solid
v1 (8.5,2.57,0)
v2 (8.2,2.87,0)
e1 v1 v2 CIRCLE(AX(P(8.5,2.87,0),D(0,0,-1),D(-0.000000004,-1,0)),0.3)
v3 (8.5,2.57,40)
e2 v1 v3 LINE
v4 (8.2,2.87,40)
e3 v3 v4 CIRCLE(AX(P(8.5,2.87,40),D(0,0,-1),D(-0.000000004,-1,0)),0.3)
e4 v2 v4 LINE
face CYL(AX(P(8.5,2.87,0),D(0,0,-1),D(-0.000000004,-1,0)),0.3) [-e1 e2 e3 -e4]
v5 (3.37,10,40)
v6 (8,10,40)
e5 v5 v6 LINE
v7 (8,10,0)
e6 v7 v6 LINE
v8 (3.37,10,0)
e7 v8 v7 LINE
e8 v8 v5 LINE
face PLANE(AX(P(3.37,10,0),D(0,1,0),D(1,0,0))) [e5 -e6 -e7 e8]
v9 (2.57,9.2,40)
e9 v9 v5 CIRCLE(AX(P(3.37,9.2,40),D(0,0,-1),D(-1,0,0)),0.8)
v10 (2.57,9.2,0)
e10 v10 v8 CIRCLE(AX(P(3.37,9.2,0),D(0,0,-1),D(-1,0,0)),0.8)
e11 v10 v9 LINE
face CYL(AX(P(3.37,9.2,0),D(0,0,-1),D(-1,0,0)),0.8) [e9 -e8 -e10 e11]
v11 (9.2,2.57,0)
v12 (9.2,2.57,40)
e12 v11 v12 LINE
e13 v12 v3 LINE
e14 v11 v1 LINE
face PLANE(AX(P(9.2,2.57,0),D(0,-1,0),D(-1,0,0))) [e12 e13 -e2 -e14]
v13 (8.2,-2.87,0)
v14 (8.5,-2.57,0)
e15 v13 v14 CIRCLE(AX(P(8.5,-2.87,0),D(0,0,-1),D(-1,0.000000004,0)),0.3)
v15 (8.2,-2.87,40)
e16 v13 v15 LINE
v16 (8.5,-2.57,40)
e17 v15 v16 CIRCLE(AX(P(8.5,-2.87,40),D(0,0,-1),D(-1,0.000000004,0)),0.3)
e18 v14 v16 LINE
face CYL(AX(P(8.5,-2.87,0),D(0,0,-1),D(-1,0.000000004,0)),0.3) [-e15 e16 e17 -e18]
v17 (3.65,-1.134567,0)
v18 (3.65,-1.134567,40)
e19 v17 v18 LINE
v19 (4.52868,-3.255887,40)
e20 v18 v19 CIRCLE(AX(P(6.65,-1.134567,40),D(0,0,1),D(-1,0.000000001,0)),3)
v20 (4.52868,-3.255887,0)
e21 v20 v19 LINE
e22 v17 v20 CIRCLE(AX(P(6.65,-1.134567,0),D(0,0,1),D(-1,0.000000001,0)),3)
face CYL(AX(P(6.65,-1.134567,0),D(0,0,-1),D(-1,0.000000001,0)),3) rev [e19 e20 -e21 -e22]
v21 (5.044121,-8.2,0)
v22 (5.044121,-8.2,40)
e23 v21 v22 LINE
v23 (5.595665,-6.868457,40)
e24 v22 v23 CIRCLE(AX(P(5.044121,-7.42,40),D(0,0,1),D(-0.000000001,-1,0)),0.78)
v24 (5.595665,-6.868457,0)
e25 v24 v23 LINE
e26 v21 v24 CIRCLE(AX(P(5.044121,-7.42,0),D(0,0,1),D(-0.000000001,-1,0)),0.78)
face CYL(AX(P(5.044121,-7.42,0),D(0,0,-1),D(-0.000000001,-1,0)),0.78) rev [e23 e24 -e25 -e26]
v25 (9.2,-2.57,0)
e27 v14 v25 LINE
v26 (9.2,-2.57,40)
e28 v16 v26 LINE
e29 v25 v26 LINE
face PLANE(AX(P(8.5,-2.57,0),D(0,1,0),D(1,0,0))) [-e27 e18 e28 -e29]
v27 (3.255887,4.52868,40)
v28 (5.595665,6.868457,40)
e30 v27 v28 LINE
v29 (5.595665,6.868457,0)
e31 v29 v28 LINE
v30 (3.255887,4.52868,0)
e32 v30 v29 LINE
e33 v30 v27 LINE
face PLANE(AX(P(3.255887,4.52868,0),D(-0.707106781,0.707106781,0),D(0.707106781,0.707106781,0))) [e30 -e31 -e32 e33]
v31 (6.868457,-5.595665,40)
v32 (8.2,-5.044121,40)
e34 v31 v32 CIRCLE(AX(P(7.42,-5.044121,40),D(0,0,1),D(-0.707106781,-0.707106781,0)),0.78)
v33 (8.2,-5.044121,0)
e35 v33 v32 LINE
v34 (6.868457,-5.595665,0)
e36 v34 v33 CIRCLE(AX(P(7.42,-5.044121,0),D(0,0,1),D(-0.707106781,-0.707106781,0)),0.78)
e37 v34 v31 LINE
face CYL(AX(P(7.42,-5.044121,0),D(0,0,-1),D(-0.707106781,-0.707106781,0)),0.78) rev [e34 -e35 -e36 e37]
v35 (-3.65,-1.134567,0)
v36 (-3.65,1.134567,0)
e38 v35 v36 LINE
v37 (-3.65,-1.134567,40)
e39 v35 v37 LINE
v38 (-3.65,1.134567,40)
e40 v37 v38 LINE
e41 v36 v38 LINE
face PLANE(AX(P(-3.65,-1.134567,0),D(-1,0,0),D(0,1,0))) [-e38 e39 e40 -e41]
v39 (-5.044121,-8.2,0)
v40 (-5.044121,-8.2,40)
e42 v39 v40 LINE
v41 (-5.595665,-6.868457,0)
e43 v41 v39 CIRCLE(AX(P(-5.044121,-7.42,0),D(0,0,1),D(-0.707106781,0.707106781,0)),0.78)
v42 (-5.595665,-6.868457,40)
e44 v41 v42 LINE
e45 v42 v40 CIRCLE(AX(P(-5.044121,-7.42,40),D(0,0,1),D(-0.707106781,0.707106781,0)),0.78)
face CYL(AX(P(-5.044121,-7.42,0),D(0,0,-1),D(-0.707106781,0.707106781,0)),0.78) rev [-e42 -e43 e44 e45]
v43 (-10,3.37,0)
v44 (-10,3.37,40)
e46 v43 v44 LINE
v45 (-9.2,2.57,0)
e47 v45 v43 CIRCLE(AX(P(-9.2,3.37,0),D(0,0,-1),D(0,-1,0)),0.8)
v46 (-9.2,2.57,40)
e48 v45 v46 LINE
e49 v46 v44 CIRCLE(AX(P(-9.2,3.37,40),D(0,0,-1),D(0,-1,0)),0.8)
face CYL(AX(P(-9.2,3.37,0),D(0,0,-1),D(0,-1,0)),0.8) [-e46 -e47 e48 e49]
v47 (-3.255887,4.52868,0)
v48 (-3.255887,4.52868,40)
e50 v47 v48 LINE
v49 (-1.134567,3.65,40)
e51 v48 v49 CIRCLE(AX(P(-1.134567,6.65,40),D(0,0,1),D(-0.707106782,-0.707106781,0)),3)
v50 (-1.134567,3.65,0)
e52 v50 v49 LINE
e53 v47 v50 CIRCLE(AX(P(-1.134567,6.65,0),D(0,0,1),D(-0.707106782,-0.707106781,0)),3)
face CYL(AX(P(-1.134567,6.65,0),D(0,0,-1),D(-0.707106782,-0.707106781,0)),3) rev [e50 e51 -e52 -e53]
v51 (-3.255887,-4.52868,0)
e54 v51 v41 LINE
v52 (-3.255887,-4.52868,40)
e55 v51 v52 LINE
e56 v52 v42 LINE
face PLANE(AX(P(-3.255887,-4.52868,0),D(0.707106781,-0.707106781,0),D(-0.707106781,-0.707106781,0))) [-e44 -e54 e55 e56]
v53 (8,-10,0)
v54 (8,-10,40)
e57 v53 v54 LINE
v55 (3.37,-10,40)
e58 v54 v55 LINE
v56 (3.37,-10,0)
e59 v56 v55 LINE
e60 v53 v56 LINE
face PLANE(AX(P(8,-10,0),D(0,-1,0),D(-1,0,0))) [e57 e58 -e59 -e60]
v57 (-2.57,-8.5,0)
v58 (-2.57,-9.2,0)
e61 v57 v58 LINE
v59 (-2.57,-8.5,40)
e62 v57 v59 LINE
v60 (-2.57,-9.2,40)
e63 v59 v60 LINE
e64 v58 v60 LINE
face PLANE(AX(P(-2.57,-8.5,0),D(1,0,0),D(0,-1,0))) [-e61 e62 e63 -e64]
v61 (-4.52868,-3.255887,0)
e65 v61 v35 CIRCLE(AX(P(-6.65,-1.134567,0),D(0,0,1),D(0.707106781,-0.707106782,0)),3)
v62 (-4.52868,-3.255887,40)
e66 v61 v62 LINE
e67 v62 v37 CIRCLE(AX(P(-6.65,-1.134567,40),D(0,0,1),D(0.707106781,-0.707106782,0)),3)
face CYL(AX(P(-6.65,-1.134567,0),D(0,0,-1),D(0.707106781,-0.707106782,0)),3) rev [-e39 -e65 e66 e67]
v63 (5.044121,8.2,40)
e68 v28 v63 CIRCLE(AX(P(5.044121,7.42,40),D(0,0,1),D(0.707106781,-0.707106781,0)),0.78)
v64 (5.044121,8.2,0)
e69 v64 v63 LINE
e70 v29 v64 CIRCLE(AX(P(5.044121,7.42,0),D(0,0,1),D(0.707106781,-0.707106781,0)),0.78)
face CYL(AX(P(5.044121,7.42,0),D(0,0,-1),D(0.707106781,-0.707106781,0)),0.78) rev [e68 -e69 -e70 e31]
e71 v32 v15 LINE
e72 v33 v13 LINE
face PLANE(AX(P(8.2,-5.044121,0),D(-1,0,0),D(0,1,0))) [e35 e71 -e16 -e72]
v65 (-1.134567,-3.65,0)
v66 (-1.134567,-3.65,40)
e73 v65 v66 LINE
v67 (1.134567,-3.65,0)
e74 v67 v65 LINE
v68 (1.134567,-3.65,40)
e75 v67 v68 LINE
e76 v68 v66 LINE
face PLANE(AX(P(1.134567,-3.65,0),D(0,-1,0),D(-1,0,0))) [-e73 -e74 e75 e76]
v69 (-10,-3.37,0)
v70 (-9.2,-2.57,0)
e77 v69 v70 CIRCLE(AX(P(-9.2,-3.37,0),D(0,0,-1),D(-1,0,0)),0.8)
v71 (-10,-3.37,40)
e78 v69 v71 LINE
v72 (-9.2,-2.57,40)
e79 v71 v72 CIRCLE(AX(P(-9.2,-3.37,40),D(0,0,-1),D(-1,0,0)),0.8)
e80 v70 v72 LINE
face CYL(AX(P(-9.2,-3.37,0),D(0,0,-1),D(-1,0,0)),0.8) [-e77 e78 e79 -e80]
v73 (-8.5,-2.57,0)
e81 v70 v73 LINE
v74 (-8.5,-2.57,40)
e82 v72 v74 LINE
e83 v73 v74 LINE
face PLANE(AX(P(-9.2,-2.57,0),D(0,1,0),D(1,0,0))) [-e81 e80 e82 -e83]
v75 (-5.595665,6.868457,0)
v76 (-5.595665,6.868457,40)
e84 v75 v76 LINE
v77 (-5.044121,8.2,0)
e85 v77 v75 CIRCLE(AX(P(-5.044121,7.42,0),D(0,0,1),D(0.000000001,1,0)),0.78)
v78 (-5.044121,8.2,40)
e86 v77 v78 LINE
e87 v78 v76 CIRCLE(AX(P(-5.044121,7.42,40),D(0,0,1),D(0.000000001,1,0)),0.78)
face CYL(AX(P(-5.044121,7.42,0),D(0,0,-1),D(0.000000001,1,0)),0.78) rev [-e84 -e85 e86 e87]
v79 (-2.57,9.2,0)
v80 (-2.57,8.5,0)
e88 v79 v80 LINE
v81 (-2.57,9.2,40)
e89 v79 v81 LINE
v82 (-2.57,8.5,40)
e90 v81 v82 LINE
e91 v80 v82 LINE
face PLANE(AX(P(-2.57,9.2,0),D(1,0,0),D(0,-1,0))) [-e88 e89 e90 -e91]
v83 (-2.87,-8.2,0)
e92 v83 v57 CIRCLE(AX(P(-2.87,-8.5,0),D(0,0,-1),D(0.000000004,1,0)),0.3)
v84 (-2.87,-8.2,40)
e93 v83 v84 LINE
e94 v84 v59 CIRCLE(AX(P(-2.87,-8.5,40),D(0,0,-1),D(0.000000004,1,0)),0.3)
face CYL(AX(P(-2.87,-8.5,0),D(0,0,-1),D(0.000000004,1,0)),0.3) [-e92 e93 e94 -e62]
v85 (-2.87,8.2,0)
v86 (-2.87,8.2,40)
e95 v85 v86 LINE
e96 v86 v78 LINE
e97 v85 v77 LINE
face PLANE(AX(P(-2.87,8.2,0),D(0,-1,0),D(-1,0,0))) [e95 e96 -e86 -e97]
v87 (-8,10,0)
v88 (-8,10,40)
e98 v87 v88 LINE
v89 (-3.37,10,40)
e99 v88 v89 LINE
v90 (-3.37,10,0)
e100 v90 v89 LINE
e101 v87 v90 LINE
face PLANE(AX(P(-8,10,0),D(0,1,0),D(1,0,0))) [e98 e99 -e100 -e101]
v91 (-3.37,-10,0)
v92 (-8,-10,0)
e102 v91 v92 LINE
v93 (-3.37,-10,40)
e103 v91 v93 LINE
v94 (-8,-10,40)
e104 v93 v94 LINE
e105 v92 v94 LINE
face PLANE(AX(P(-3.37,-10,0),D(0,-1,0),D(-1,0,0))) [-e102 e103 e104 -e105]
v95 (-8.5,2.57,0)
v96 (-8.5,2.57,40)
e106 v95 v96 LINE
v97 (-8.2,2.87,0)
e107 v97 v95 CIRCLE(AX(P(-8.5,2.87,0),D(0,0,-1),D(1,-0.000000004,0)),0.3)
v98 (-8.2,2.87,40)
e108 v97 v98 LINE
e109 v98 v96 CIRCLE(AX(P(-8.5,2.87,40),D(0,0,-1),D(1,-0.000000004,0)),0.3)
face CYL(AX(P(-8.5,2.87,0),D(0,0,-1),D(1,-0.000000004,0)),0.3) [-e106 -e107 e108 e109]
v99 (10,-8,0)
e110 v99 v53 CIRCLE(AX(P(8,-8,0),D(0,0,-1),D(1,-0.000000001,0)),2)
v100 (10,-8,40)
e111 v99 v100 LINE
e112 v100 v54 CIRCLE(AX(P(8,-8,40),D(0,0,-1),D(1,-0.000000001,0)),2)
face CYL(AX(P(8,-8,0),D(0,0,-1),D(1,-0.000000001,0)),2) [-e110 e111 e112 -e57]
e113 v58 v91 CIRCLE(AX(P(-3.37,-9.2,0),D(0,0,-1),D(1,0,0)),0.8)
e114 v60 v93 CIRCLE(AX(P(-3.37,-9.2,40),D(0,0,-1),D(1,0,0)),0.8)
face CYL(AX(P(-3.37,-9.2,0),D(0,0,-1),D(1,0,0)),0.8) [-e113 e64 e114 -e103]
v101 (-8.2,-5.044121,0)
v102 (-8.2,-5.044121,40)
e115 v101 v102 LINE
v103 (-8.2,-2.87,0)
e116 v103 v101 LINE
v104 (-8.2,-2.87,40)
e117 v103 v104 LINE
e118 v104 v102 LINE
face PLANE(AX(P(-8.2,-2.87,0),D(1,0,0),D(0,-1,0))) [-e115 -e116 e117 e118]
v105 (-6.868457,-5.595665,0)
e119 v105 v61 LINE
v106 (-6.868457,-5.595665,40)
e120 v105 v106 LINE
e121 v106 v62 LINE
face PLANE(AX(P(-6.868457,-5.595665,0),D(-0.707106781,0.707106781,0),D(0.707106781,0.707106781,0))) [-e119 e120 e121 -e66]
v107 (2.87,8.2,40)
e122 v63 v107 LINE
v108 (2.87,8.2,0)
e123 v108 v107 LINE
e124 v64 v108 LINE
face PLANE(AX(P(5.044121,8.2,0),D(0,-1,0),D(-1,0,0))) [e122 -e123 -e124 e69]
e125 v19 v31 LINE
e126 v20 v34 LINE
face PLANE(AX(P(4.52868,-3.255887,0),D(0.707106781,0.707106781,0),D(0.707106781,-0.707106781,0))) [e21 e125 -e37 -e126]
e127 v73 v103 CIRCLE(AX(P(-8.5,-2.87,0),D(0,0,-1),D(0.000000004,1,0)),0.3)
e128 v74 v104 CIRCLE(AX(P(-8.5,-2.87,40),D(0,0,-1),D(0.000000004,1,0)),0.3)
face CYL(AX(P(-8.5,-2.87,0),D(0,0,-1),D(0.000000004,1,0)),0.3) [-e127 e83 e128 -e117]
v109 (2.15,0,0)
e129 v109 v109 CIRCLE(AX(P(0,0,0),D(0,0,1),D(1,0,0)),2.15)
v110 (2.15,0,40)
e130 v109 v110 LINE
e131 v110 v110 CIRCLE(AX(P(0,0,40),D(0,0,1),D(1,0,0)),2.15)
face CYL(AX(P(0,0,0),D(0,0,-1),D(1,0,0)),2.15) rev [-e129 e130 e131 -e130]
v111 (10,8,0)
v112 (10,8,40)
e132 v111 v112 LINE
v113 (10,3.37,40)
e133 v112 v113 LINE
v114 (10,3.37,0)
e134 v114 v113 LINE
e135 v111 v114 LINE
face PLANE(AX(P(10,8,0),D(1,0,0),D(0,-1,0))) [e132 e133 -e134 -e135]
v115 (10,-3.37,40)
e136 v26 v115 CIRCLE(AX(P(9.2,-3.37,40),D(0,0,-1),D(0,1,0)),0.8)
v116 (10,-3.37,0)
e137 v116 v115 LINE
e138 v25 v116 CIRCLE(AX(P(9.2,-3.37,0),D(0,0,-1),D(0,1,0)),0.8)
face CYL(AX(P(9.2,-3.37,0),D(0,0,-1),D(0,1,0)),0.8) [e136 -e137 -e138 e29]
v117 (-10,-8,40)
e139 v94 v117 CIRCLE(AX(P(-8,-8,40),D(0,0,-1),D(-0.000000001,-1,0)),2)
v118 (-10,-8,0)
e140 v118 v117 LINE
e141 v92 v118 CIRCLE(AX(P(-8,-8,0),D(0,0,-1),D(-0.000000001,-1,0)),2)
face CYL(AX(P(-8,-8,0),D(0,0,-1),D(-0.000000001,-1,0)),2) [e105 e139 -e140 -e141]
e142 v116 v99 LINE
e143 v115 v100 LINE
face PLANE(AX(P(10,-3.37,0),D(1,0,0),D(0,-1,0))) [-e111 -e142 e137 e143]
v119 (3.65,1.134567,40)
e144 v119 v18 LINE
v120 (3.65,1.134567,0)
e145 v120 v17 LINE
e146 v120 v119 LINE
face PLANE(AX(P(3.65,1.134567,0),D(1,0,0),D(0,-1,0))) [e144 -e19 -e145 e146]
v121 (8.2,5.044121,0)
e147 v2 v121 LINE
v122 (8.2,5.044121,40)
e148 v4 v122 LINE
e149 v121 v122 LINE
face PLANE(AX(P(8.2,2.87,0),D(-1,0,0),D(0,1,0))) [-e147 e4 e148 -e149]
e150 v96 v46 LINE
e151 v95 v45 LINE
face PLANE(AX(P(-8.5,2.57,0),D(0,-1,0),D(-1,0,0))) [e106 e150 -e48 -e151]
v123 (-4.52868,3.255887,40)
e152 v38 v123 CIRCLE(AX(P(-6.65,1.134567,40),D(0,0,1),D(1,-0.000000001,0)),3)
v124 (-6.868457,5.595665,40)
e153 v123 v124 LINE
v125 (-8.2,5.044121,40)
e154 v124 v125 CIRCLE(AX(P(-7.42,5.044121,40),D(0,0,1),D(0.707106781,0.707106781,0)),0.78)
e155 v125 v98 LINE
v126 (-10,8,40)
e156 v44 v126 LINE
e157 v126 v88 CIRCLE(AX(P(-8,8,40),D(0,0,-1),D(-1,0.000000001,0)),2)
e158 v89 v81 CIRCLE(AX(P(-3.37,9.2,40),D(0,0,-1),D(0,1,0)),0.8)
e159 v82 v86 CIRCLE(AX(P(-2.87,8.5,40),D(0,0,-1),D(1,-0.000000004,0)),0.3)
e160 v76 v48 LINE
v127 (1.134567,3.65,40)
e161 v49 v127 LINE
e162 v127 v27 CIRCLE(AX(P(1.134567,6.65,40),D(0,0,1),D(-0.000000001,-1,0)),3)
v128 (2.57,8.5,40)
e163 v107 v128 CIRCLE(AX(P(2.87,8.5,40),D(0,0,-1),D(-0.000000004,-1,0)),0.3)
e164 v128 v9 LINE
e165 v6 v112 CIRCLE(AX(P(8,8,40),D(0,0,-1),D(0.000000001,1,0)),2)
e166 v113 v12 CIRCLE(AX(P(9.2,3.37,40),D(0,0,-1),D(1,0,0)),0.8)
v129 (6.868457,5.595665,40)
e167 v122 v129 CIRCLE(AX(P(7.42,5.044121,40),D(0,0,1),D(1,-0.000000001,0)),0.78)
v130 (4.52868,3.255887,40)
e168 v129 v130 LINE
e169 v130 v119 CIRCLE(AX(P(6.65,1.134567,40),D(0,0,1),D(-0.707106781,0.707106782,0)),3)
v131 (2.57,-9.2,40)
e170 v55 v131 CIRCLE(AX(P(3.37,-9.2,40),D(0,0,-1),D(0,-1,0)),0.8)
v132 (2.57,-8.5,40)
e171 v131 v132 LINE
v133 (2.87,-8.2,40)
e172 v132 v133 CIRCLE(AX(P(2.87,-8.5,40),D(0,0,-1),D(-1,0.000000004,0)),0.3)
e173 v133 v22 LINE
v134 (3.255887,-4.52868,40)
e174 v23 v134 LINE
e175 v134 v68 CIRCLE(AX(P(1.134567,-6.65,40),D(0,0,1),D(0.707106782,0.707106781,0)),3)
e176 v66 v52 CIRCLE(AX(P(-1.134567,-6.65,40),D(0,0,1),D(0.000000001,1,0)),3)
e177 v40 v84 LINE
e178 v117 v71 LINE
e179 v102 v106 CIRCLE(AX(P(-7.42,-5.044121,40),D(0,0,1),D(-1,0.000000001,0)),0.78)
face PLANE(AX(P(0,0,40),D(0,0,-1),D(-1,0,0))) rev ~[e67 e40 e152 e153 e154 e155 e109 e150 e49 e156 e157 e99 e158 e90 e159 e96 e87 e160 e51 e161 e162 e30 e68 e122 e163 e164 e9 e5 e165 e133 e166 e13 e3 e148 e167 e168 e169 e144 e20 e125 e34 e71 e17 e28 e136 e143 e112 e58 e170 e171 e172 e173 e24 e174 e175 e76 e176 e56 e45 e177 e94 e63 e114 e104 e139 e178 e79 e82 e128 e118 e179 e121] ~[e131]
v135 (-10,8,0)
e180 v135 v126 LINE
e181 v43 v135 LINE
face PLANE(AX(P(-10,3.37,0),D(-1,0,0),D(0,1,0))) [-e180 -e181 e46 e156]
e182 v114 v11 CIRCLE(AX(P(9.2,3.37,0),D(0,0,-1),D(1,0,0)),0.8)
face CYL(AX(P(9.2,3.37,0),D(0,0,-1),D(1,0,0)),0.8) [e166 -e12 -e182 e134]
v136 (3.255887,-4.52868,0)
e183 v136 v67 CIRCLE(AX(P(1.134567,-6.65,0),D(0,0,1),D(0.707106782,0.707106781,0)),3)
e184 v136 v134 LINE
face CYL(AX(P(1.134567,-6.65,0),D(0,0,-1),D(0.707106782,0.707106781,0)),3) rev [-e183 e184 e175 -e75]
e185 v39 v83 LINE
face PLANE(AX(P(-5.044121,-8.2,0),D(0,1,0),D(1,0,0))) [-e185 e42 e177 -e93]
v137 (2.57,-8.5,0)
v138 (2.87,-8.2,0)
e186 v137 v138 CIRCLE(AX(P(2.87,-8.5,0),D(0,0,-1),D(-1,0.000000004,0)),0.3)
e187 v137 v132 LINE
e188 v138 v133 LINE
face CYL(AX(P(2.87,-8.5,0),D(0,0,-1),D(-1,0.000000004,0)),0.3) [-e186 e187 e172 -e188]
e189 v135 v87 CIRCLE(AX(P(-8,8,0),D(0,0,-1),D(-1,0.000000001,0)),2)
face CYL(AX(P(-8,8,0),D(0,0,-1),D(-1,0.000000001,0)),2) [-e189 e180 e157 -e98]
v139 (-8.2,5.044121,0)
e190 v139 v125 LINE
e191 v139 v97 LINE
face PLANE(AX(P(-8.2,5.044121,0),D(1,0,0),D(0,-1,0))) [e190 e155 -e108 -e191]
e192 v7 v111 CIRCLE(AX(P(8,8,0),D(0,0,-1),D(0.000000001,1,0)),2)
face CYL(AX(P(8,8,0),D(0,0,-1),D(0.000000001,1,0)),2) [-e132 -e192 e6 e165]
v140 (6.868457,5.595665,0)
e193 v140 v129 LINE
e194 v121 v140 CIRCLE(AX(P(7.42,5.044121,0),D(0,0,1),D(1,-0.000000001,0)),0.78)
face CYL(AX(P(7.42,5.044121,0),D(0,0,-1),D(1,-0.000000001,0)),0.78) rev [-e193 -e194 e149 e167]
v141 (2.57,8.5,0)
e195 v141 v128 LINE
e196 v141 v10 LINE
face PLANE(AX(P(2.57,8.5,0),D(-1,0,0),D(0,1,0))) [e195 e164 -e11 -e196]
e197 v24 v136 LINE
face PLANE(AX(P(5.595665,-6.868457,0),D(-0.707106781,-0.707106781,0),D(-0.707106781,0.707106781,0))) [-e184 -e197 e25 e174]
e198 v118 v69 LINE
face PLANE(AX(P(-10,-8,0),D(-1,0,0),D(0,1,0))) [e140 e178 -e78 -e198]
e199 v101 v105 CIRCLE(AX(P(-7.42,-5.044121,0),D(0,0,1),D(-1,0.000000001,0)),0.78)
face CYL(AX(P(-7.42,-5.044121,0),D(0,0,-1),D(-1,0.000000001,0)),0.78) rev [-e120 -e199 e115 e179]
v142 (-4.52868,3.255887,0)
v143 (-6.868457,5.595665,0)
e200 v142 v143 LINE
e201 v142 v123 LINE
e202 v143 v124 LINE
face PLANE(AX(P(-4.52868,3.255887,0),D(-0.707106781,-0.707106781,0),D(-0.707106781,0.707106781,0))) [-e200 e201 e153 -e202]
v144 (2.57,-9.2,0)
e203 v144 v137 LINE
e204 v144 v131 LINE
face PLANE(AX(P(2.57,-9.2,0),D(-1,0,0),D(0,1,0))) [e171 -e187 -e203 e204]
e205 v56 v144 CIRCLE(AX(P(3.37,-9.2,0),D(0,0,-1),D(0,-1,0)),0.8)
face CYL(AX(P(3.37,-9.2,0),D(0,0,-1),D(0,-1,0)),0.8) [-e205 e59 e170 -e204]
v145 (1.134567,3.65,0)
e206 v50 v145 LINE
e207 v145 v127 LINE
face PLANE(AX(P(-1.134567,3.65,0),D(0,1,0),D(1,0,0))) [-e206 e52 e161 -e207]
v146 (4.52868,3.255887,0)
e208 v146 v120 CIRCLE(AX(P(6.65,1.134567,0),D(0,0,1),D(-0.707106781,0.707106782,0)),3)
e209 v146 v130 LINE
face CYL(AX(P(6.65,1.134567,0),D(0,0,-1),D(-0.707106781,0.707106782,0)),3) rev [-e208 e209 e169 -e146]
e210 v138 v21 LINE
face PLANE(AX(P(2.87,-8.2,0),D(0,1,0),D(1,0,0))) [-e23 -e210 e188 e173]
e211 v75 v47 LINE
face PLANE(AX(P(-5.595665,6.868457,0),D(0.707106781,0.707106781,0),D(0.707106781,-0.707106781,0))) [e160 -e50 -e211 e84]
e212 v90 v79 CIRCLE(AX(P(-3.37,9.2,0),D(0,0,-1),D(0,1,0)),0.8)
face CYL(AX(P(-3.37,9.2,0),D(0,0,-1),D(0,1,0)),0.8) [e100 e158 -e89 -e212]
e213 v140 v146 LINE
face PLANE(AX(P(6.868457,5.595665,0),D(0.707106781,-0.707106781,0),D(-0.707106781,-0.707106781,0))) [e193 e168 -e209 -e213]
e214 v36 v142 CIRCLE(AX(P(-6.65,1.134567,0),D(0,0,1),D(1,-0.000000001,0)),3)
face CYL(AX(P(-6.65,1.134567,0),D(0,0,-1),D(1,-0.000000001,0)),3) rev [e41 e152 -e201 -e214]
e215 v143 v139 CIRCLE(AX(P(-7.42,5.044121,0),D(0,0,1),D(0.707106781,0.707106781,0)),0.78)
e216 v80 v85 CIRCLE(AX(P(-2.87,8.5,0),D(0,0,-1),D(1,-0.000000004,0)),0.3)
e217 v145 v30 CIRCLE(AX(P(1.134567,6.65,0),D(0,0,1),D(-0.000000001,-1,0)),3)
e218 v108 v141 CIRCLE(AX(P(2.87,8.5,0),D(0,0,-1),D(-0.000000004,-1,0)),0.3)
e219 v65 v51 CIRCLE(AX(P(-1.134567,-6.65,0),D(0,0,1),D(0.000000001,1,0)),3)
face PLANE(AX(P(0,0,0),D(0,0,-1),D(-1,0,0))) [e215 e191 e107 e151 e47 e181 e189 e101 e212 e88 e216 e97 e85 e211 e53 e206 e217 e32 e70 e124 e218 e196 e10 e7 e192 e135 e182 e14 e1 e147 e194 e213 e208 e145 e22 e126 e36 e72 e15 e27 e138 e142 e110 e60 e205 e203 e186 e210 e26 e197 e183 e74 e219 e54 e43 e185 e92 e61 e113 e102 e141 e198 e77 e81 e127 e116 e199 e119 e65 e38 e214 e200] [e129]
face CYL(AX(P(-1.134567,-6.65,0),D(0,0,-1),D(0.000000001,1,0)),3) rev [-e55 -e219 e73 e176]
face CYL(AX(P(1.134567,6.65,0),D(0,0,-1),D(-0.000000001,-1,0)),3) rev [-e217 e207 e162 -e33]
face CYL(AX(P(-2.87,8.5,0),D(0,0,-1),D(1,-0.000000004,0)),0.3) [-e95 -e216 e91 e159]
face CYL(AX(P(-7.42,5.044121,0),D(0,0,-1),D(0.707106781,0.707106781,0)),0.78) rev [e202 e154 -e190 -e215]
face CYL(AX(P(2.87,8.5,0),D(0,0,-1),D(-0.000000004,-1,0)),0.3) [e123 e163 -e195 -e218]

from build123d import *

# Parameters (mm, degrees)
CROQUIS1_R              = 2.15
SALIENTE_EXTRUIR1_DEPTH = 40


with BuildPart() as part:
    # Croquis1 → Saliente-Extruir1 (new body)
    with BuildSketch(Plane.XY):
        with BuildLine():
            Line((3.65, 1.134567107), (3.65, -1.134567107))
            ThreePointArc((3.65, -1.134567107), (3.878361402, -2.282617404), (4.528679656, -3.25588745))
            Line((4.528679656, -3.25588745), (6.868456711, -5.595664505))
            ThreePointArc((6.868456711, -5.595664505), (7.718493077, -5.764747251), (8.2, -5.044121215))
            Line((8.2, -5.044121215), (8.2, -2.87))
            ThreePointArc((8.2, -2.87), (8.287867966, -2.657867966), (8.5, -2.57))
            Line((8.5, -2.57), (9.2, -2.57))
            ThreePointArc((9.2, -2.57), (9.765685425, -2.804314575), (10, -3.37))
            Line((10, -3.37), (10, -8))
            ThreePointArc((10, -8), (9.414213562, -9.414213562), (8, -10))
            Line((8, -10), (3.37, -10))
            ThreePointArc((3.37, -10), (2.804314575, -9.765685425), (2.57, -9.2))
            Line((2.57, -9.2), (2.57, -8.5))
            ThreePointArc((2.57, -8.5), (2.657867966, -8.287867966), (2.87, -8.2))
            Line((2.87, -8.2), (5.044121215, -8.2))
            ThreePointArc((5.044121215, -8.2), (5.764747251, -7.718493077), (5.595664505, -6.868456711))
            Line((5.595664505, -6.868456711), (3.25588745, -4.528679656))
            ThreePointArc((3.25588745, -4.528679656), (2.282617404, -3.878361402), (1.134567107, -3.65))
            Line((1.134567107, -3.65), (-1.134567107, -3.65))
            ThreePointArc((-1.134567107, -3.65), (-2.282617404, -3.878361402), (-3.25588745, -4.528679656))
            Line((-3.25588745, -4.528679656), (-5.595664505, -6.868456711))
            ThreePointArc((-5.595664505, -6.868456711), (-5.764747251, -7.718493077), (-5.044121215, -8.2))
            Line((-5.044121215, -8.2), (-2.87, -8.2))
            ThreePointArc((-2.87, -8.2), (-2.657867966, -8.287867966), (-2.57, -8.5))
            Line((-2.57, -8.5), (-2.57, -9.2))
            ThreePointArc((-2.57, -9.2), (-2.804314575, -9.765685425), (-3.37, -10))
            Line((-3.37, -10), (-8, -10))
            ThreePointArc((-8, -10), (-9.414213562, -9.414213562), (-10, -8))
            Line((-10, -8), (-10, -3.37))
            ThreePointArc((-10, -3.37), (-9.765685425, -2.804314575), (-9.2, -2.57))
            Line((-9.2, -2.57), (-8.5, -2.57))
            ThreePointArc((-8.5, -2.57), (-8.287867966, -2.657867966), (-8.2, -2.87))
            Line((-8.2, -2.87), (-8.2, -5.044121215))
            ThreePointArc((-8.2, -5.044121215), (-7.718493077, -5.764747251), (-6.868456711, -5.595664505))
            Line((-6.868456711, -5.595664505), (-4.528679656, -3.25588745))
            ThreePointArc((-4.528679656, -3.25588745), (-3.878361402, -2.282617404), (-3.65, -1.134567107))
            Line((-3.65, -1.134567107), (-3.65, 1.134567107))
            ThreePointArc((-3.65, 1.134567107), (-3.878361402, 2.282617404), (-4.528679656, 3.25588745))
            Line((-4.528679656, 3.25588745), (-6.868456711, 5.595664505))
            ThreePointArc((-6.868456711, 5.595664505), (-7.718493077, 5.764747251), (-8.2, 5.044121215))
            Line((-8.2, 5.044121215), (-8.2, 2.87))
            ThreePointArc((-8.2, 2.87), (-8.287867966, 2.657867966), (-8.5, 2.57))
            Line((-8.5, 2.57), (-9.2, 2.57))
            ThreePointArc((-9.2, 2.57), (-9.765685425, 2.804314575), (-10, 3.37))
            Line((-10, 3.37), (-10, 8))
            ThreePointArc((-10, 8), (-9.414213562, 9.414213562), (-8, 10))
            Line((-8, 10), (-3.37, 10))
            ThreePointArc((-3.37, 10), (-2.804314575, 9.765685425), (-2.57, 9.2))
            Line((-2.57, 9.2), (-2.57, 8.5))
            ThreePointArc((-2.57, 8.5), (-2.657867966, 8.287867966), (-2.87, 8.2))
            Line((-2.87, 8.2), (-5.044121215, 8.2))
            ThreePointArc((-5.044121215, 8.2), (-5.764747251, 7.718493077), (-5.595664505, 6.868456711))
            Line((-5.595664505, 6.868456711), (-3.25588745, 4.528679656))
            ThreePointArc((-3.25588745, 4.528679656), (-2.282617404, 3.878361402), (-1.134567107, 3.65))
            Line((-1.134567107, 3.65), (1.134567107, 3.65))
            ThreePointArc((1.134567107, 3.65), (2.282617404, 3.878361402), (3.25588745, 4.528679656))
            Line((3.25588745, 4.528679656), (5.595664505, 6.868456711))
            ThreePointArc((5.595664505, 6.868456711), (5.764747251, 7.718493077), (5.044121215, 8.2))
            Line((5.044121215, 8.2), (2.87, 8.2))
            ThreePointArc((2.87, 8.2), (2.657867966, 8.287867966), (2.57, 8.5))
            Line((2.57, 8.5), (2.57, 9.2))
            ThreePointArc((2.57, 9.2), (2.804314575, 9.765685425), (3.37, 10))
            Line((3.37, 10), (8, 10))
            ThreePointArc((8, 10), (9.414213562, 9.414213562), (10, 8))
            Line((10, 8), (10, 3.37))
            ThreePointArc((10, 3.37), (9.765685425, 2.804314575), (9.2, 2.57))
            Line((9.2, 2.57), (8.5, 2.57))
            ThreePointArc((8.5, 2.57), (8.287867966, 2.657867966), (8.2, 2.87))
            Line((8.2, 2.87), (8.2, 5.044121215))
            ThreePointArc((8.2, 5.044121215), (7.718493077, 5.764747251), (6.868456711, 5.595664505))
            Line((6.868456711, 5.595664505), (4.528679656, 3.25588745))
            ThreePointArc((4.528679656, 3.25588745), (3.878361402, 2.282617404), (3.65, 1.134567107))
        make_face()
        Circle(CROQUIS1_R, mode=Mode.SUBTRACT)
    extrude(amount=SALIENTE_EXTRUIR1_DEPTH)


solid = part.part
